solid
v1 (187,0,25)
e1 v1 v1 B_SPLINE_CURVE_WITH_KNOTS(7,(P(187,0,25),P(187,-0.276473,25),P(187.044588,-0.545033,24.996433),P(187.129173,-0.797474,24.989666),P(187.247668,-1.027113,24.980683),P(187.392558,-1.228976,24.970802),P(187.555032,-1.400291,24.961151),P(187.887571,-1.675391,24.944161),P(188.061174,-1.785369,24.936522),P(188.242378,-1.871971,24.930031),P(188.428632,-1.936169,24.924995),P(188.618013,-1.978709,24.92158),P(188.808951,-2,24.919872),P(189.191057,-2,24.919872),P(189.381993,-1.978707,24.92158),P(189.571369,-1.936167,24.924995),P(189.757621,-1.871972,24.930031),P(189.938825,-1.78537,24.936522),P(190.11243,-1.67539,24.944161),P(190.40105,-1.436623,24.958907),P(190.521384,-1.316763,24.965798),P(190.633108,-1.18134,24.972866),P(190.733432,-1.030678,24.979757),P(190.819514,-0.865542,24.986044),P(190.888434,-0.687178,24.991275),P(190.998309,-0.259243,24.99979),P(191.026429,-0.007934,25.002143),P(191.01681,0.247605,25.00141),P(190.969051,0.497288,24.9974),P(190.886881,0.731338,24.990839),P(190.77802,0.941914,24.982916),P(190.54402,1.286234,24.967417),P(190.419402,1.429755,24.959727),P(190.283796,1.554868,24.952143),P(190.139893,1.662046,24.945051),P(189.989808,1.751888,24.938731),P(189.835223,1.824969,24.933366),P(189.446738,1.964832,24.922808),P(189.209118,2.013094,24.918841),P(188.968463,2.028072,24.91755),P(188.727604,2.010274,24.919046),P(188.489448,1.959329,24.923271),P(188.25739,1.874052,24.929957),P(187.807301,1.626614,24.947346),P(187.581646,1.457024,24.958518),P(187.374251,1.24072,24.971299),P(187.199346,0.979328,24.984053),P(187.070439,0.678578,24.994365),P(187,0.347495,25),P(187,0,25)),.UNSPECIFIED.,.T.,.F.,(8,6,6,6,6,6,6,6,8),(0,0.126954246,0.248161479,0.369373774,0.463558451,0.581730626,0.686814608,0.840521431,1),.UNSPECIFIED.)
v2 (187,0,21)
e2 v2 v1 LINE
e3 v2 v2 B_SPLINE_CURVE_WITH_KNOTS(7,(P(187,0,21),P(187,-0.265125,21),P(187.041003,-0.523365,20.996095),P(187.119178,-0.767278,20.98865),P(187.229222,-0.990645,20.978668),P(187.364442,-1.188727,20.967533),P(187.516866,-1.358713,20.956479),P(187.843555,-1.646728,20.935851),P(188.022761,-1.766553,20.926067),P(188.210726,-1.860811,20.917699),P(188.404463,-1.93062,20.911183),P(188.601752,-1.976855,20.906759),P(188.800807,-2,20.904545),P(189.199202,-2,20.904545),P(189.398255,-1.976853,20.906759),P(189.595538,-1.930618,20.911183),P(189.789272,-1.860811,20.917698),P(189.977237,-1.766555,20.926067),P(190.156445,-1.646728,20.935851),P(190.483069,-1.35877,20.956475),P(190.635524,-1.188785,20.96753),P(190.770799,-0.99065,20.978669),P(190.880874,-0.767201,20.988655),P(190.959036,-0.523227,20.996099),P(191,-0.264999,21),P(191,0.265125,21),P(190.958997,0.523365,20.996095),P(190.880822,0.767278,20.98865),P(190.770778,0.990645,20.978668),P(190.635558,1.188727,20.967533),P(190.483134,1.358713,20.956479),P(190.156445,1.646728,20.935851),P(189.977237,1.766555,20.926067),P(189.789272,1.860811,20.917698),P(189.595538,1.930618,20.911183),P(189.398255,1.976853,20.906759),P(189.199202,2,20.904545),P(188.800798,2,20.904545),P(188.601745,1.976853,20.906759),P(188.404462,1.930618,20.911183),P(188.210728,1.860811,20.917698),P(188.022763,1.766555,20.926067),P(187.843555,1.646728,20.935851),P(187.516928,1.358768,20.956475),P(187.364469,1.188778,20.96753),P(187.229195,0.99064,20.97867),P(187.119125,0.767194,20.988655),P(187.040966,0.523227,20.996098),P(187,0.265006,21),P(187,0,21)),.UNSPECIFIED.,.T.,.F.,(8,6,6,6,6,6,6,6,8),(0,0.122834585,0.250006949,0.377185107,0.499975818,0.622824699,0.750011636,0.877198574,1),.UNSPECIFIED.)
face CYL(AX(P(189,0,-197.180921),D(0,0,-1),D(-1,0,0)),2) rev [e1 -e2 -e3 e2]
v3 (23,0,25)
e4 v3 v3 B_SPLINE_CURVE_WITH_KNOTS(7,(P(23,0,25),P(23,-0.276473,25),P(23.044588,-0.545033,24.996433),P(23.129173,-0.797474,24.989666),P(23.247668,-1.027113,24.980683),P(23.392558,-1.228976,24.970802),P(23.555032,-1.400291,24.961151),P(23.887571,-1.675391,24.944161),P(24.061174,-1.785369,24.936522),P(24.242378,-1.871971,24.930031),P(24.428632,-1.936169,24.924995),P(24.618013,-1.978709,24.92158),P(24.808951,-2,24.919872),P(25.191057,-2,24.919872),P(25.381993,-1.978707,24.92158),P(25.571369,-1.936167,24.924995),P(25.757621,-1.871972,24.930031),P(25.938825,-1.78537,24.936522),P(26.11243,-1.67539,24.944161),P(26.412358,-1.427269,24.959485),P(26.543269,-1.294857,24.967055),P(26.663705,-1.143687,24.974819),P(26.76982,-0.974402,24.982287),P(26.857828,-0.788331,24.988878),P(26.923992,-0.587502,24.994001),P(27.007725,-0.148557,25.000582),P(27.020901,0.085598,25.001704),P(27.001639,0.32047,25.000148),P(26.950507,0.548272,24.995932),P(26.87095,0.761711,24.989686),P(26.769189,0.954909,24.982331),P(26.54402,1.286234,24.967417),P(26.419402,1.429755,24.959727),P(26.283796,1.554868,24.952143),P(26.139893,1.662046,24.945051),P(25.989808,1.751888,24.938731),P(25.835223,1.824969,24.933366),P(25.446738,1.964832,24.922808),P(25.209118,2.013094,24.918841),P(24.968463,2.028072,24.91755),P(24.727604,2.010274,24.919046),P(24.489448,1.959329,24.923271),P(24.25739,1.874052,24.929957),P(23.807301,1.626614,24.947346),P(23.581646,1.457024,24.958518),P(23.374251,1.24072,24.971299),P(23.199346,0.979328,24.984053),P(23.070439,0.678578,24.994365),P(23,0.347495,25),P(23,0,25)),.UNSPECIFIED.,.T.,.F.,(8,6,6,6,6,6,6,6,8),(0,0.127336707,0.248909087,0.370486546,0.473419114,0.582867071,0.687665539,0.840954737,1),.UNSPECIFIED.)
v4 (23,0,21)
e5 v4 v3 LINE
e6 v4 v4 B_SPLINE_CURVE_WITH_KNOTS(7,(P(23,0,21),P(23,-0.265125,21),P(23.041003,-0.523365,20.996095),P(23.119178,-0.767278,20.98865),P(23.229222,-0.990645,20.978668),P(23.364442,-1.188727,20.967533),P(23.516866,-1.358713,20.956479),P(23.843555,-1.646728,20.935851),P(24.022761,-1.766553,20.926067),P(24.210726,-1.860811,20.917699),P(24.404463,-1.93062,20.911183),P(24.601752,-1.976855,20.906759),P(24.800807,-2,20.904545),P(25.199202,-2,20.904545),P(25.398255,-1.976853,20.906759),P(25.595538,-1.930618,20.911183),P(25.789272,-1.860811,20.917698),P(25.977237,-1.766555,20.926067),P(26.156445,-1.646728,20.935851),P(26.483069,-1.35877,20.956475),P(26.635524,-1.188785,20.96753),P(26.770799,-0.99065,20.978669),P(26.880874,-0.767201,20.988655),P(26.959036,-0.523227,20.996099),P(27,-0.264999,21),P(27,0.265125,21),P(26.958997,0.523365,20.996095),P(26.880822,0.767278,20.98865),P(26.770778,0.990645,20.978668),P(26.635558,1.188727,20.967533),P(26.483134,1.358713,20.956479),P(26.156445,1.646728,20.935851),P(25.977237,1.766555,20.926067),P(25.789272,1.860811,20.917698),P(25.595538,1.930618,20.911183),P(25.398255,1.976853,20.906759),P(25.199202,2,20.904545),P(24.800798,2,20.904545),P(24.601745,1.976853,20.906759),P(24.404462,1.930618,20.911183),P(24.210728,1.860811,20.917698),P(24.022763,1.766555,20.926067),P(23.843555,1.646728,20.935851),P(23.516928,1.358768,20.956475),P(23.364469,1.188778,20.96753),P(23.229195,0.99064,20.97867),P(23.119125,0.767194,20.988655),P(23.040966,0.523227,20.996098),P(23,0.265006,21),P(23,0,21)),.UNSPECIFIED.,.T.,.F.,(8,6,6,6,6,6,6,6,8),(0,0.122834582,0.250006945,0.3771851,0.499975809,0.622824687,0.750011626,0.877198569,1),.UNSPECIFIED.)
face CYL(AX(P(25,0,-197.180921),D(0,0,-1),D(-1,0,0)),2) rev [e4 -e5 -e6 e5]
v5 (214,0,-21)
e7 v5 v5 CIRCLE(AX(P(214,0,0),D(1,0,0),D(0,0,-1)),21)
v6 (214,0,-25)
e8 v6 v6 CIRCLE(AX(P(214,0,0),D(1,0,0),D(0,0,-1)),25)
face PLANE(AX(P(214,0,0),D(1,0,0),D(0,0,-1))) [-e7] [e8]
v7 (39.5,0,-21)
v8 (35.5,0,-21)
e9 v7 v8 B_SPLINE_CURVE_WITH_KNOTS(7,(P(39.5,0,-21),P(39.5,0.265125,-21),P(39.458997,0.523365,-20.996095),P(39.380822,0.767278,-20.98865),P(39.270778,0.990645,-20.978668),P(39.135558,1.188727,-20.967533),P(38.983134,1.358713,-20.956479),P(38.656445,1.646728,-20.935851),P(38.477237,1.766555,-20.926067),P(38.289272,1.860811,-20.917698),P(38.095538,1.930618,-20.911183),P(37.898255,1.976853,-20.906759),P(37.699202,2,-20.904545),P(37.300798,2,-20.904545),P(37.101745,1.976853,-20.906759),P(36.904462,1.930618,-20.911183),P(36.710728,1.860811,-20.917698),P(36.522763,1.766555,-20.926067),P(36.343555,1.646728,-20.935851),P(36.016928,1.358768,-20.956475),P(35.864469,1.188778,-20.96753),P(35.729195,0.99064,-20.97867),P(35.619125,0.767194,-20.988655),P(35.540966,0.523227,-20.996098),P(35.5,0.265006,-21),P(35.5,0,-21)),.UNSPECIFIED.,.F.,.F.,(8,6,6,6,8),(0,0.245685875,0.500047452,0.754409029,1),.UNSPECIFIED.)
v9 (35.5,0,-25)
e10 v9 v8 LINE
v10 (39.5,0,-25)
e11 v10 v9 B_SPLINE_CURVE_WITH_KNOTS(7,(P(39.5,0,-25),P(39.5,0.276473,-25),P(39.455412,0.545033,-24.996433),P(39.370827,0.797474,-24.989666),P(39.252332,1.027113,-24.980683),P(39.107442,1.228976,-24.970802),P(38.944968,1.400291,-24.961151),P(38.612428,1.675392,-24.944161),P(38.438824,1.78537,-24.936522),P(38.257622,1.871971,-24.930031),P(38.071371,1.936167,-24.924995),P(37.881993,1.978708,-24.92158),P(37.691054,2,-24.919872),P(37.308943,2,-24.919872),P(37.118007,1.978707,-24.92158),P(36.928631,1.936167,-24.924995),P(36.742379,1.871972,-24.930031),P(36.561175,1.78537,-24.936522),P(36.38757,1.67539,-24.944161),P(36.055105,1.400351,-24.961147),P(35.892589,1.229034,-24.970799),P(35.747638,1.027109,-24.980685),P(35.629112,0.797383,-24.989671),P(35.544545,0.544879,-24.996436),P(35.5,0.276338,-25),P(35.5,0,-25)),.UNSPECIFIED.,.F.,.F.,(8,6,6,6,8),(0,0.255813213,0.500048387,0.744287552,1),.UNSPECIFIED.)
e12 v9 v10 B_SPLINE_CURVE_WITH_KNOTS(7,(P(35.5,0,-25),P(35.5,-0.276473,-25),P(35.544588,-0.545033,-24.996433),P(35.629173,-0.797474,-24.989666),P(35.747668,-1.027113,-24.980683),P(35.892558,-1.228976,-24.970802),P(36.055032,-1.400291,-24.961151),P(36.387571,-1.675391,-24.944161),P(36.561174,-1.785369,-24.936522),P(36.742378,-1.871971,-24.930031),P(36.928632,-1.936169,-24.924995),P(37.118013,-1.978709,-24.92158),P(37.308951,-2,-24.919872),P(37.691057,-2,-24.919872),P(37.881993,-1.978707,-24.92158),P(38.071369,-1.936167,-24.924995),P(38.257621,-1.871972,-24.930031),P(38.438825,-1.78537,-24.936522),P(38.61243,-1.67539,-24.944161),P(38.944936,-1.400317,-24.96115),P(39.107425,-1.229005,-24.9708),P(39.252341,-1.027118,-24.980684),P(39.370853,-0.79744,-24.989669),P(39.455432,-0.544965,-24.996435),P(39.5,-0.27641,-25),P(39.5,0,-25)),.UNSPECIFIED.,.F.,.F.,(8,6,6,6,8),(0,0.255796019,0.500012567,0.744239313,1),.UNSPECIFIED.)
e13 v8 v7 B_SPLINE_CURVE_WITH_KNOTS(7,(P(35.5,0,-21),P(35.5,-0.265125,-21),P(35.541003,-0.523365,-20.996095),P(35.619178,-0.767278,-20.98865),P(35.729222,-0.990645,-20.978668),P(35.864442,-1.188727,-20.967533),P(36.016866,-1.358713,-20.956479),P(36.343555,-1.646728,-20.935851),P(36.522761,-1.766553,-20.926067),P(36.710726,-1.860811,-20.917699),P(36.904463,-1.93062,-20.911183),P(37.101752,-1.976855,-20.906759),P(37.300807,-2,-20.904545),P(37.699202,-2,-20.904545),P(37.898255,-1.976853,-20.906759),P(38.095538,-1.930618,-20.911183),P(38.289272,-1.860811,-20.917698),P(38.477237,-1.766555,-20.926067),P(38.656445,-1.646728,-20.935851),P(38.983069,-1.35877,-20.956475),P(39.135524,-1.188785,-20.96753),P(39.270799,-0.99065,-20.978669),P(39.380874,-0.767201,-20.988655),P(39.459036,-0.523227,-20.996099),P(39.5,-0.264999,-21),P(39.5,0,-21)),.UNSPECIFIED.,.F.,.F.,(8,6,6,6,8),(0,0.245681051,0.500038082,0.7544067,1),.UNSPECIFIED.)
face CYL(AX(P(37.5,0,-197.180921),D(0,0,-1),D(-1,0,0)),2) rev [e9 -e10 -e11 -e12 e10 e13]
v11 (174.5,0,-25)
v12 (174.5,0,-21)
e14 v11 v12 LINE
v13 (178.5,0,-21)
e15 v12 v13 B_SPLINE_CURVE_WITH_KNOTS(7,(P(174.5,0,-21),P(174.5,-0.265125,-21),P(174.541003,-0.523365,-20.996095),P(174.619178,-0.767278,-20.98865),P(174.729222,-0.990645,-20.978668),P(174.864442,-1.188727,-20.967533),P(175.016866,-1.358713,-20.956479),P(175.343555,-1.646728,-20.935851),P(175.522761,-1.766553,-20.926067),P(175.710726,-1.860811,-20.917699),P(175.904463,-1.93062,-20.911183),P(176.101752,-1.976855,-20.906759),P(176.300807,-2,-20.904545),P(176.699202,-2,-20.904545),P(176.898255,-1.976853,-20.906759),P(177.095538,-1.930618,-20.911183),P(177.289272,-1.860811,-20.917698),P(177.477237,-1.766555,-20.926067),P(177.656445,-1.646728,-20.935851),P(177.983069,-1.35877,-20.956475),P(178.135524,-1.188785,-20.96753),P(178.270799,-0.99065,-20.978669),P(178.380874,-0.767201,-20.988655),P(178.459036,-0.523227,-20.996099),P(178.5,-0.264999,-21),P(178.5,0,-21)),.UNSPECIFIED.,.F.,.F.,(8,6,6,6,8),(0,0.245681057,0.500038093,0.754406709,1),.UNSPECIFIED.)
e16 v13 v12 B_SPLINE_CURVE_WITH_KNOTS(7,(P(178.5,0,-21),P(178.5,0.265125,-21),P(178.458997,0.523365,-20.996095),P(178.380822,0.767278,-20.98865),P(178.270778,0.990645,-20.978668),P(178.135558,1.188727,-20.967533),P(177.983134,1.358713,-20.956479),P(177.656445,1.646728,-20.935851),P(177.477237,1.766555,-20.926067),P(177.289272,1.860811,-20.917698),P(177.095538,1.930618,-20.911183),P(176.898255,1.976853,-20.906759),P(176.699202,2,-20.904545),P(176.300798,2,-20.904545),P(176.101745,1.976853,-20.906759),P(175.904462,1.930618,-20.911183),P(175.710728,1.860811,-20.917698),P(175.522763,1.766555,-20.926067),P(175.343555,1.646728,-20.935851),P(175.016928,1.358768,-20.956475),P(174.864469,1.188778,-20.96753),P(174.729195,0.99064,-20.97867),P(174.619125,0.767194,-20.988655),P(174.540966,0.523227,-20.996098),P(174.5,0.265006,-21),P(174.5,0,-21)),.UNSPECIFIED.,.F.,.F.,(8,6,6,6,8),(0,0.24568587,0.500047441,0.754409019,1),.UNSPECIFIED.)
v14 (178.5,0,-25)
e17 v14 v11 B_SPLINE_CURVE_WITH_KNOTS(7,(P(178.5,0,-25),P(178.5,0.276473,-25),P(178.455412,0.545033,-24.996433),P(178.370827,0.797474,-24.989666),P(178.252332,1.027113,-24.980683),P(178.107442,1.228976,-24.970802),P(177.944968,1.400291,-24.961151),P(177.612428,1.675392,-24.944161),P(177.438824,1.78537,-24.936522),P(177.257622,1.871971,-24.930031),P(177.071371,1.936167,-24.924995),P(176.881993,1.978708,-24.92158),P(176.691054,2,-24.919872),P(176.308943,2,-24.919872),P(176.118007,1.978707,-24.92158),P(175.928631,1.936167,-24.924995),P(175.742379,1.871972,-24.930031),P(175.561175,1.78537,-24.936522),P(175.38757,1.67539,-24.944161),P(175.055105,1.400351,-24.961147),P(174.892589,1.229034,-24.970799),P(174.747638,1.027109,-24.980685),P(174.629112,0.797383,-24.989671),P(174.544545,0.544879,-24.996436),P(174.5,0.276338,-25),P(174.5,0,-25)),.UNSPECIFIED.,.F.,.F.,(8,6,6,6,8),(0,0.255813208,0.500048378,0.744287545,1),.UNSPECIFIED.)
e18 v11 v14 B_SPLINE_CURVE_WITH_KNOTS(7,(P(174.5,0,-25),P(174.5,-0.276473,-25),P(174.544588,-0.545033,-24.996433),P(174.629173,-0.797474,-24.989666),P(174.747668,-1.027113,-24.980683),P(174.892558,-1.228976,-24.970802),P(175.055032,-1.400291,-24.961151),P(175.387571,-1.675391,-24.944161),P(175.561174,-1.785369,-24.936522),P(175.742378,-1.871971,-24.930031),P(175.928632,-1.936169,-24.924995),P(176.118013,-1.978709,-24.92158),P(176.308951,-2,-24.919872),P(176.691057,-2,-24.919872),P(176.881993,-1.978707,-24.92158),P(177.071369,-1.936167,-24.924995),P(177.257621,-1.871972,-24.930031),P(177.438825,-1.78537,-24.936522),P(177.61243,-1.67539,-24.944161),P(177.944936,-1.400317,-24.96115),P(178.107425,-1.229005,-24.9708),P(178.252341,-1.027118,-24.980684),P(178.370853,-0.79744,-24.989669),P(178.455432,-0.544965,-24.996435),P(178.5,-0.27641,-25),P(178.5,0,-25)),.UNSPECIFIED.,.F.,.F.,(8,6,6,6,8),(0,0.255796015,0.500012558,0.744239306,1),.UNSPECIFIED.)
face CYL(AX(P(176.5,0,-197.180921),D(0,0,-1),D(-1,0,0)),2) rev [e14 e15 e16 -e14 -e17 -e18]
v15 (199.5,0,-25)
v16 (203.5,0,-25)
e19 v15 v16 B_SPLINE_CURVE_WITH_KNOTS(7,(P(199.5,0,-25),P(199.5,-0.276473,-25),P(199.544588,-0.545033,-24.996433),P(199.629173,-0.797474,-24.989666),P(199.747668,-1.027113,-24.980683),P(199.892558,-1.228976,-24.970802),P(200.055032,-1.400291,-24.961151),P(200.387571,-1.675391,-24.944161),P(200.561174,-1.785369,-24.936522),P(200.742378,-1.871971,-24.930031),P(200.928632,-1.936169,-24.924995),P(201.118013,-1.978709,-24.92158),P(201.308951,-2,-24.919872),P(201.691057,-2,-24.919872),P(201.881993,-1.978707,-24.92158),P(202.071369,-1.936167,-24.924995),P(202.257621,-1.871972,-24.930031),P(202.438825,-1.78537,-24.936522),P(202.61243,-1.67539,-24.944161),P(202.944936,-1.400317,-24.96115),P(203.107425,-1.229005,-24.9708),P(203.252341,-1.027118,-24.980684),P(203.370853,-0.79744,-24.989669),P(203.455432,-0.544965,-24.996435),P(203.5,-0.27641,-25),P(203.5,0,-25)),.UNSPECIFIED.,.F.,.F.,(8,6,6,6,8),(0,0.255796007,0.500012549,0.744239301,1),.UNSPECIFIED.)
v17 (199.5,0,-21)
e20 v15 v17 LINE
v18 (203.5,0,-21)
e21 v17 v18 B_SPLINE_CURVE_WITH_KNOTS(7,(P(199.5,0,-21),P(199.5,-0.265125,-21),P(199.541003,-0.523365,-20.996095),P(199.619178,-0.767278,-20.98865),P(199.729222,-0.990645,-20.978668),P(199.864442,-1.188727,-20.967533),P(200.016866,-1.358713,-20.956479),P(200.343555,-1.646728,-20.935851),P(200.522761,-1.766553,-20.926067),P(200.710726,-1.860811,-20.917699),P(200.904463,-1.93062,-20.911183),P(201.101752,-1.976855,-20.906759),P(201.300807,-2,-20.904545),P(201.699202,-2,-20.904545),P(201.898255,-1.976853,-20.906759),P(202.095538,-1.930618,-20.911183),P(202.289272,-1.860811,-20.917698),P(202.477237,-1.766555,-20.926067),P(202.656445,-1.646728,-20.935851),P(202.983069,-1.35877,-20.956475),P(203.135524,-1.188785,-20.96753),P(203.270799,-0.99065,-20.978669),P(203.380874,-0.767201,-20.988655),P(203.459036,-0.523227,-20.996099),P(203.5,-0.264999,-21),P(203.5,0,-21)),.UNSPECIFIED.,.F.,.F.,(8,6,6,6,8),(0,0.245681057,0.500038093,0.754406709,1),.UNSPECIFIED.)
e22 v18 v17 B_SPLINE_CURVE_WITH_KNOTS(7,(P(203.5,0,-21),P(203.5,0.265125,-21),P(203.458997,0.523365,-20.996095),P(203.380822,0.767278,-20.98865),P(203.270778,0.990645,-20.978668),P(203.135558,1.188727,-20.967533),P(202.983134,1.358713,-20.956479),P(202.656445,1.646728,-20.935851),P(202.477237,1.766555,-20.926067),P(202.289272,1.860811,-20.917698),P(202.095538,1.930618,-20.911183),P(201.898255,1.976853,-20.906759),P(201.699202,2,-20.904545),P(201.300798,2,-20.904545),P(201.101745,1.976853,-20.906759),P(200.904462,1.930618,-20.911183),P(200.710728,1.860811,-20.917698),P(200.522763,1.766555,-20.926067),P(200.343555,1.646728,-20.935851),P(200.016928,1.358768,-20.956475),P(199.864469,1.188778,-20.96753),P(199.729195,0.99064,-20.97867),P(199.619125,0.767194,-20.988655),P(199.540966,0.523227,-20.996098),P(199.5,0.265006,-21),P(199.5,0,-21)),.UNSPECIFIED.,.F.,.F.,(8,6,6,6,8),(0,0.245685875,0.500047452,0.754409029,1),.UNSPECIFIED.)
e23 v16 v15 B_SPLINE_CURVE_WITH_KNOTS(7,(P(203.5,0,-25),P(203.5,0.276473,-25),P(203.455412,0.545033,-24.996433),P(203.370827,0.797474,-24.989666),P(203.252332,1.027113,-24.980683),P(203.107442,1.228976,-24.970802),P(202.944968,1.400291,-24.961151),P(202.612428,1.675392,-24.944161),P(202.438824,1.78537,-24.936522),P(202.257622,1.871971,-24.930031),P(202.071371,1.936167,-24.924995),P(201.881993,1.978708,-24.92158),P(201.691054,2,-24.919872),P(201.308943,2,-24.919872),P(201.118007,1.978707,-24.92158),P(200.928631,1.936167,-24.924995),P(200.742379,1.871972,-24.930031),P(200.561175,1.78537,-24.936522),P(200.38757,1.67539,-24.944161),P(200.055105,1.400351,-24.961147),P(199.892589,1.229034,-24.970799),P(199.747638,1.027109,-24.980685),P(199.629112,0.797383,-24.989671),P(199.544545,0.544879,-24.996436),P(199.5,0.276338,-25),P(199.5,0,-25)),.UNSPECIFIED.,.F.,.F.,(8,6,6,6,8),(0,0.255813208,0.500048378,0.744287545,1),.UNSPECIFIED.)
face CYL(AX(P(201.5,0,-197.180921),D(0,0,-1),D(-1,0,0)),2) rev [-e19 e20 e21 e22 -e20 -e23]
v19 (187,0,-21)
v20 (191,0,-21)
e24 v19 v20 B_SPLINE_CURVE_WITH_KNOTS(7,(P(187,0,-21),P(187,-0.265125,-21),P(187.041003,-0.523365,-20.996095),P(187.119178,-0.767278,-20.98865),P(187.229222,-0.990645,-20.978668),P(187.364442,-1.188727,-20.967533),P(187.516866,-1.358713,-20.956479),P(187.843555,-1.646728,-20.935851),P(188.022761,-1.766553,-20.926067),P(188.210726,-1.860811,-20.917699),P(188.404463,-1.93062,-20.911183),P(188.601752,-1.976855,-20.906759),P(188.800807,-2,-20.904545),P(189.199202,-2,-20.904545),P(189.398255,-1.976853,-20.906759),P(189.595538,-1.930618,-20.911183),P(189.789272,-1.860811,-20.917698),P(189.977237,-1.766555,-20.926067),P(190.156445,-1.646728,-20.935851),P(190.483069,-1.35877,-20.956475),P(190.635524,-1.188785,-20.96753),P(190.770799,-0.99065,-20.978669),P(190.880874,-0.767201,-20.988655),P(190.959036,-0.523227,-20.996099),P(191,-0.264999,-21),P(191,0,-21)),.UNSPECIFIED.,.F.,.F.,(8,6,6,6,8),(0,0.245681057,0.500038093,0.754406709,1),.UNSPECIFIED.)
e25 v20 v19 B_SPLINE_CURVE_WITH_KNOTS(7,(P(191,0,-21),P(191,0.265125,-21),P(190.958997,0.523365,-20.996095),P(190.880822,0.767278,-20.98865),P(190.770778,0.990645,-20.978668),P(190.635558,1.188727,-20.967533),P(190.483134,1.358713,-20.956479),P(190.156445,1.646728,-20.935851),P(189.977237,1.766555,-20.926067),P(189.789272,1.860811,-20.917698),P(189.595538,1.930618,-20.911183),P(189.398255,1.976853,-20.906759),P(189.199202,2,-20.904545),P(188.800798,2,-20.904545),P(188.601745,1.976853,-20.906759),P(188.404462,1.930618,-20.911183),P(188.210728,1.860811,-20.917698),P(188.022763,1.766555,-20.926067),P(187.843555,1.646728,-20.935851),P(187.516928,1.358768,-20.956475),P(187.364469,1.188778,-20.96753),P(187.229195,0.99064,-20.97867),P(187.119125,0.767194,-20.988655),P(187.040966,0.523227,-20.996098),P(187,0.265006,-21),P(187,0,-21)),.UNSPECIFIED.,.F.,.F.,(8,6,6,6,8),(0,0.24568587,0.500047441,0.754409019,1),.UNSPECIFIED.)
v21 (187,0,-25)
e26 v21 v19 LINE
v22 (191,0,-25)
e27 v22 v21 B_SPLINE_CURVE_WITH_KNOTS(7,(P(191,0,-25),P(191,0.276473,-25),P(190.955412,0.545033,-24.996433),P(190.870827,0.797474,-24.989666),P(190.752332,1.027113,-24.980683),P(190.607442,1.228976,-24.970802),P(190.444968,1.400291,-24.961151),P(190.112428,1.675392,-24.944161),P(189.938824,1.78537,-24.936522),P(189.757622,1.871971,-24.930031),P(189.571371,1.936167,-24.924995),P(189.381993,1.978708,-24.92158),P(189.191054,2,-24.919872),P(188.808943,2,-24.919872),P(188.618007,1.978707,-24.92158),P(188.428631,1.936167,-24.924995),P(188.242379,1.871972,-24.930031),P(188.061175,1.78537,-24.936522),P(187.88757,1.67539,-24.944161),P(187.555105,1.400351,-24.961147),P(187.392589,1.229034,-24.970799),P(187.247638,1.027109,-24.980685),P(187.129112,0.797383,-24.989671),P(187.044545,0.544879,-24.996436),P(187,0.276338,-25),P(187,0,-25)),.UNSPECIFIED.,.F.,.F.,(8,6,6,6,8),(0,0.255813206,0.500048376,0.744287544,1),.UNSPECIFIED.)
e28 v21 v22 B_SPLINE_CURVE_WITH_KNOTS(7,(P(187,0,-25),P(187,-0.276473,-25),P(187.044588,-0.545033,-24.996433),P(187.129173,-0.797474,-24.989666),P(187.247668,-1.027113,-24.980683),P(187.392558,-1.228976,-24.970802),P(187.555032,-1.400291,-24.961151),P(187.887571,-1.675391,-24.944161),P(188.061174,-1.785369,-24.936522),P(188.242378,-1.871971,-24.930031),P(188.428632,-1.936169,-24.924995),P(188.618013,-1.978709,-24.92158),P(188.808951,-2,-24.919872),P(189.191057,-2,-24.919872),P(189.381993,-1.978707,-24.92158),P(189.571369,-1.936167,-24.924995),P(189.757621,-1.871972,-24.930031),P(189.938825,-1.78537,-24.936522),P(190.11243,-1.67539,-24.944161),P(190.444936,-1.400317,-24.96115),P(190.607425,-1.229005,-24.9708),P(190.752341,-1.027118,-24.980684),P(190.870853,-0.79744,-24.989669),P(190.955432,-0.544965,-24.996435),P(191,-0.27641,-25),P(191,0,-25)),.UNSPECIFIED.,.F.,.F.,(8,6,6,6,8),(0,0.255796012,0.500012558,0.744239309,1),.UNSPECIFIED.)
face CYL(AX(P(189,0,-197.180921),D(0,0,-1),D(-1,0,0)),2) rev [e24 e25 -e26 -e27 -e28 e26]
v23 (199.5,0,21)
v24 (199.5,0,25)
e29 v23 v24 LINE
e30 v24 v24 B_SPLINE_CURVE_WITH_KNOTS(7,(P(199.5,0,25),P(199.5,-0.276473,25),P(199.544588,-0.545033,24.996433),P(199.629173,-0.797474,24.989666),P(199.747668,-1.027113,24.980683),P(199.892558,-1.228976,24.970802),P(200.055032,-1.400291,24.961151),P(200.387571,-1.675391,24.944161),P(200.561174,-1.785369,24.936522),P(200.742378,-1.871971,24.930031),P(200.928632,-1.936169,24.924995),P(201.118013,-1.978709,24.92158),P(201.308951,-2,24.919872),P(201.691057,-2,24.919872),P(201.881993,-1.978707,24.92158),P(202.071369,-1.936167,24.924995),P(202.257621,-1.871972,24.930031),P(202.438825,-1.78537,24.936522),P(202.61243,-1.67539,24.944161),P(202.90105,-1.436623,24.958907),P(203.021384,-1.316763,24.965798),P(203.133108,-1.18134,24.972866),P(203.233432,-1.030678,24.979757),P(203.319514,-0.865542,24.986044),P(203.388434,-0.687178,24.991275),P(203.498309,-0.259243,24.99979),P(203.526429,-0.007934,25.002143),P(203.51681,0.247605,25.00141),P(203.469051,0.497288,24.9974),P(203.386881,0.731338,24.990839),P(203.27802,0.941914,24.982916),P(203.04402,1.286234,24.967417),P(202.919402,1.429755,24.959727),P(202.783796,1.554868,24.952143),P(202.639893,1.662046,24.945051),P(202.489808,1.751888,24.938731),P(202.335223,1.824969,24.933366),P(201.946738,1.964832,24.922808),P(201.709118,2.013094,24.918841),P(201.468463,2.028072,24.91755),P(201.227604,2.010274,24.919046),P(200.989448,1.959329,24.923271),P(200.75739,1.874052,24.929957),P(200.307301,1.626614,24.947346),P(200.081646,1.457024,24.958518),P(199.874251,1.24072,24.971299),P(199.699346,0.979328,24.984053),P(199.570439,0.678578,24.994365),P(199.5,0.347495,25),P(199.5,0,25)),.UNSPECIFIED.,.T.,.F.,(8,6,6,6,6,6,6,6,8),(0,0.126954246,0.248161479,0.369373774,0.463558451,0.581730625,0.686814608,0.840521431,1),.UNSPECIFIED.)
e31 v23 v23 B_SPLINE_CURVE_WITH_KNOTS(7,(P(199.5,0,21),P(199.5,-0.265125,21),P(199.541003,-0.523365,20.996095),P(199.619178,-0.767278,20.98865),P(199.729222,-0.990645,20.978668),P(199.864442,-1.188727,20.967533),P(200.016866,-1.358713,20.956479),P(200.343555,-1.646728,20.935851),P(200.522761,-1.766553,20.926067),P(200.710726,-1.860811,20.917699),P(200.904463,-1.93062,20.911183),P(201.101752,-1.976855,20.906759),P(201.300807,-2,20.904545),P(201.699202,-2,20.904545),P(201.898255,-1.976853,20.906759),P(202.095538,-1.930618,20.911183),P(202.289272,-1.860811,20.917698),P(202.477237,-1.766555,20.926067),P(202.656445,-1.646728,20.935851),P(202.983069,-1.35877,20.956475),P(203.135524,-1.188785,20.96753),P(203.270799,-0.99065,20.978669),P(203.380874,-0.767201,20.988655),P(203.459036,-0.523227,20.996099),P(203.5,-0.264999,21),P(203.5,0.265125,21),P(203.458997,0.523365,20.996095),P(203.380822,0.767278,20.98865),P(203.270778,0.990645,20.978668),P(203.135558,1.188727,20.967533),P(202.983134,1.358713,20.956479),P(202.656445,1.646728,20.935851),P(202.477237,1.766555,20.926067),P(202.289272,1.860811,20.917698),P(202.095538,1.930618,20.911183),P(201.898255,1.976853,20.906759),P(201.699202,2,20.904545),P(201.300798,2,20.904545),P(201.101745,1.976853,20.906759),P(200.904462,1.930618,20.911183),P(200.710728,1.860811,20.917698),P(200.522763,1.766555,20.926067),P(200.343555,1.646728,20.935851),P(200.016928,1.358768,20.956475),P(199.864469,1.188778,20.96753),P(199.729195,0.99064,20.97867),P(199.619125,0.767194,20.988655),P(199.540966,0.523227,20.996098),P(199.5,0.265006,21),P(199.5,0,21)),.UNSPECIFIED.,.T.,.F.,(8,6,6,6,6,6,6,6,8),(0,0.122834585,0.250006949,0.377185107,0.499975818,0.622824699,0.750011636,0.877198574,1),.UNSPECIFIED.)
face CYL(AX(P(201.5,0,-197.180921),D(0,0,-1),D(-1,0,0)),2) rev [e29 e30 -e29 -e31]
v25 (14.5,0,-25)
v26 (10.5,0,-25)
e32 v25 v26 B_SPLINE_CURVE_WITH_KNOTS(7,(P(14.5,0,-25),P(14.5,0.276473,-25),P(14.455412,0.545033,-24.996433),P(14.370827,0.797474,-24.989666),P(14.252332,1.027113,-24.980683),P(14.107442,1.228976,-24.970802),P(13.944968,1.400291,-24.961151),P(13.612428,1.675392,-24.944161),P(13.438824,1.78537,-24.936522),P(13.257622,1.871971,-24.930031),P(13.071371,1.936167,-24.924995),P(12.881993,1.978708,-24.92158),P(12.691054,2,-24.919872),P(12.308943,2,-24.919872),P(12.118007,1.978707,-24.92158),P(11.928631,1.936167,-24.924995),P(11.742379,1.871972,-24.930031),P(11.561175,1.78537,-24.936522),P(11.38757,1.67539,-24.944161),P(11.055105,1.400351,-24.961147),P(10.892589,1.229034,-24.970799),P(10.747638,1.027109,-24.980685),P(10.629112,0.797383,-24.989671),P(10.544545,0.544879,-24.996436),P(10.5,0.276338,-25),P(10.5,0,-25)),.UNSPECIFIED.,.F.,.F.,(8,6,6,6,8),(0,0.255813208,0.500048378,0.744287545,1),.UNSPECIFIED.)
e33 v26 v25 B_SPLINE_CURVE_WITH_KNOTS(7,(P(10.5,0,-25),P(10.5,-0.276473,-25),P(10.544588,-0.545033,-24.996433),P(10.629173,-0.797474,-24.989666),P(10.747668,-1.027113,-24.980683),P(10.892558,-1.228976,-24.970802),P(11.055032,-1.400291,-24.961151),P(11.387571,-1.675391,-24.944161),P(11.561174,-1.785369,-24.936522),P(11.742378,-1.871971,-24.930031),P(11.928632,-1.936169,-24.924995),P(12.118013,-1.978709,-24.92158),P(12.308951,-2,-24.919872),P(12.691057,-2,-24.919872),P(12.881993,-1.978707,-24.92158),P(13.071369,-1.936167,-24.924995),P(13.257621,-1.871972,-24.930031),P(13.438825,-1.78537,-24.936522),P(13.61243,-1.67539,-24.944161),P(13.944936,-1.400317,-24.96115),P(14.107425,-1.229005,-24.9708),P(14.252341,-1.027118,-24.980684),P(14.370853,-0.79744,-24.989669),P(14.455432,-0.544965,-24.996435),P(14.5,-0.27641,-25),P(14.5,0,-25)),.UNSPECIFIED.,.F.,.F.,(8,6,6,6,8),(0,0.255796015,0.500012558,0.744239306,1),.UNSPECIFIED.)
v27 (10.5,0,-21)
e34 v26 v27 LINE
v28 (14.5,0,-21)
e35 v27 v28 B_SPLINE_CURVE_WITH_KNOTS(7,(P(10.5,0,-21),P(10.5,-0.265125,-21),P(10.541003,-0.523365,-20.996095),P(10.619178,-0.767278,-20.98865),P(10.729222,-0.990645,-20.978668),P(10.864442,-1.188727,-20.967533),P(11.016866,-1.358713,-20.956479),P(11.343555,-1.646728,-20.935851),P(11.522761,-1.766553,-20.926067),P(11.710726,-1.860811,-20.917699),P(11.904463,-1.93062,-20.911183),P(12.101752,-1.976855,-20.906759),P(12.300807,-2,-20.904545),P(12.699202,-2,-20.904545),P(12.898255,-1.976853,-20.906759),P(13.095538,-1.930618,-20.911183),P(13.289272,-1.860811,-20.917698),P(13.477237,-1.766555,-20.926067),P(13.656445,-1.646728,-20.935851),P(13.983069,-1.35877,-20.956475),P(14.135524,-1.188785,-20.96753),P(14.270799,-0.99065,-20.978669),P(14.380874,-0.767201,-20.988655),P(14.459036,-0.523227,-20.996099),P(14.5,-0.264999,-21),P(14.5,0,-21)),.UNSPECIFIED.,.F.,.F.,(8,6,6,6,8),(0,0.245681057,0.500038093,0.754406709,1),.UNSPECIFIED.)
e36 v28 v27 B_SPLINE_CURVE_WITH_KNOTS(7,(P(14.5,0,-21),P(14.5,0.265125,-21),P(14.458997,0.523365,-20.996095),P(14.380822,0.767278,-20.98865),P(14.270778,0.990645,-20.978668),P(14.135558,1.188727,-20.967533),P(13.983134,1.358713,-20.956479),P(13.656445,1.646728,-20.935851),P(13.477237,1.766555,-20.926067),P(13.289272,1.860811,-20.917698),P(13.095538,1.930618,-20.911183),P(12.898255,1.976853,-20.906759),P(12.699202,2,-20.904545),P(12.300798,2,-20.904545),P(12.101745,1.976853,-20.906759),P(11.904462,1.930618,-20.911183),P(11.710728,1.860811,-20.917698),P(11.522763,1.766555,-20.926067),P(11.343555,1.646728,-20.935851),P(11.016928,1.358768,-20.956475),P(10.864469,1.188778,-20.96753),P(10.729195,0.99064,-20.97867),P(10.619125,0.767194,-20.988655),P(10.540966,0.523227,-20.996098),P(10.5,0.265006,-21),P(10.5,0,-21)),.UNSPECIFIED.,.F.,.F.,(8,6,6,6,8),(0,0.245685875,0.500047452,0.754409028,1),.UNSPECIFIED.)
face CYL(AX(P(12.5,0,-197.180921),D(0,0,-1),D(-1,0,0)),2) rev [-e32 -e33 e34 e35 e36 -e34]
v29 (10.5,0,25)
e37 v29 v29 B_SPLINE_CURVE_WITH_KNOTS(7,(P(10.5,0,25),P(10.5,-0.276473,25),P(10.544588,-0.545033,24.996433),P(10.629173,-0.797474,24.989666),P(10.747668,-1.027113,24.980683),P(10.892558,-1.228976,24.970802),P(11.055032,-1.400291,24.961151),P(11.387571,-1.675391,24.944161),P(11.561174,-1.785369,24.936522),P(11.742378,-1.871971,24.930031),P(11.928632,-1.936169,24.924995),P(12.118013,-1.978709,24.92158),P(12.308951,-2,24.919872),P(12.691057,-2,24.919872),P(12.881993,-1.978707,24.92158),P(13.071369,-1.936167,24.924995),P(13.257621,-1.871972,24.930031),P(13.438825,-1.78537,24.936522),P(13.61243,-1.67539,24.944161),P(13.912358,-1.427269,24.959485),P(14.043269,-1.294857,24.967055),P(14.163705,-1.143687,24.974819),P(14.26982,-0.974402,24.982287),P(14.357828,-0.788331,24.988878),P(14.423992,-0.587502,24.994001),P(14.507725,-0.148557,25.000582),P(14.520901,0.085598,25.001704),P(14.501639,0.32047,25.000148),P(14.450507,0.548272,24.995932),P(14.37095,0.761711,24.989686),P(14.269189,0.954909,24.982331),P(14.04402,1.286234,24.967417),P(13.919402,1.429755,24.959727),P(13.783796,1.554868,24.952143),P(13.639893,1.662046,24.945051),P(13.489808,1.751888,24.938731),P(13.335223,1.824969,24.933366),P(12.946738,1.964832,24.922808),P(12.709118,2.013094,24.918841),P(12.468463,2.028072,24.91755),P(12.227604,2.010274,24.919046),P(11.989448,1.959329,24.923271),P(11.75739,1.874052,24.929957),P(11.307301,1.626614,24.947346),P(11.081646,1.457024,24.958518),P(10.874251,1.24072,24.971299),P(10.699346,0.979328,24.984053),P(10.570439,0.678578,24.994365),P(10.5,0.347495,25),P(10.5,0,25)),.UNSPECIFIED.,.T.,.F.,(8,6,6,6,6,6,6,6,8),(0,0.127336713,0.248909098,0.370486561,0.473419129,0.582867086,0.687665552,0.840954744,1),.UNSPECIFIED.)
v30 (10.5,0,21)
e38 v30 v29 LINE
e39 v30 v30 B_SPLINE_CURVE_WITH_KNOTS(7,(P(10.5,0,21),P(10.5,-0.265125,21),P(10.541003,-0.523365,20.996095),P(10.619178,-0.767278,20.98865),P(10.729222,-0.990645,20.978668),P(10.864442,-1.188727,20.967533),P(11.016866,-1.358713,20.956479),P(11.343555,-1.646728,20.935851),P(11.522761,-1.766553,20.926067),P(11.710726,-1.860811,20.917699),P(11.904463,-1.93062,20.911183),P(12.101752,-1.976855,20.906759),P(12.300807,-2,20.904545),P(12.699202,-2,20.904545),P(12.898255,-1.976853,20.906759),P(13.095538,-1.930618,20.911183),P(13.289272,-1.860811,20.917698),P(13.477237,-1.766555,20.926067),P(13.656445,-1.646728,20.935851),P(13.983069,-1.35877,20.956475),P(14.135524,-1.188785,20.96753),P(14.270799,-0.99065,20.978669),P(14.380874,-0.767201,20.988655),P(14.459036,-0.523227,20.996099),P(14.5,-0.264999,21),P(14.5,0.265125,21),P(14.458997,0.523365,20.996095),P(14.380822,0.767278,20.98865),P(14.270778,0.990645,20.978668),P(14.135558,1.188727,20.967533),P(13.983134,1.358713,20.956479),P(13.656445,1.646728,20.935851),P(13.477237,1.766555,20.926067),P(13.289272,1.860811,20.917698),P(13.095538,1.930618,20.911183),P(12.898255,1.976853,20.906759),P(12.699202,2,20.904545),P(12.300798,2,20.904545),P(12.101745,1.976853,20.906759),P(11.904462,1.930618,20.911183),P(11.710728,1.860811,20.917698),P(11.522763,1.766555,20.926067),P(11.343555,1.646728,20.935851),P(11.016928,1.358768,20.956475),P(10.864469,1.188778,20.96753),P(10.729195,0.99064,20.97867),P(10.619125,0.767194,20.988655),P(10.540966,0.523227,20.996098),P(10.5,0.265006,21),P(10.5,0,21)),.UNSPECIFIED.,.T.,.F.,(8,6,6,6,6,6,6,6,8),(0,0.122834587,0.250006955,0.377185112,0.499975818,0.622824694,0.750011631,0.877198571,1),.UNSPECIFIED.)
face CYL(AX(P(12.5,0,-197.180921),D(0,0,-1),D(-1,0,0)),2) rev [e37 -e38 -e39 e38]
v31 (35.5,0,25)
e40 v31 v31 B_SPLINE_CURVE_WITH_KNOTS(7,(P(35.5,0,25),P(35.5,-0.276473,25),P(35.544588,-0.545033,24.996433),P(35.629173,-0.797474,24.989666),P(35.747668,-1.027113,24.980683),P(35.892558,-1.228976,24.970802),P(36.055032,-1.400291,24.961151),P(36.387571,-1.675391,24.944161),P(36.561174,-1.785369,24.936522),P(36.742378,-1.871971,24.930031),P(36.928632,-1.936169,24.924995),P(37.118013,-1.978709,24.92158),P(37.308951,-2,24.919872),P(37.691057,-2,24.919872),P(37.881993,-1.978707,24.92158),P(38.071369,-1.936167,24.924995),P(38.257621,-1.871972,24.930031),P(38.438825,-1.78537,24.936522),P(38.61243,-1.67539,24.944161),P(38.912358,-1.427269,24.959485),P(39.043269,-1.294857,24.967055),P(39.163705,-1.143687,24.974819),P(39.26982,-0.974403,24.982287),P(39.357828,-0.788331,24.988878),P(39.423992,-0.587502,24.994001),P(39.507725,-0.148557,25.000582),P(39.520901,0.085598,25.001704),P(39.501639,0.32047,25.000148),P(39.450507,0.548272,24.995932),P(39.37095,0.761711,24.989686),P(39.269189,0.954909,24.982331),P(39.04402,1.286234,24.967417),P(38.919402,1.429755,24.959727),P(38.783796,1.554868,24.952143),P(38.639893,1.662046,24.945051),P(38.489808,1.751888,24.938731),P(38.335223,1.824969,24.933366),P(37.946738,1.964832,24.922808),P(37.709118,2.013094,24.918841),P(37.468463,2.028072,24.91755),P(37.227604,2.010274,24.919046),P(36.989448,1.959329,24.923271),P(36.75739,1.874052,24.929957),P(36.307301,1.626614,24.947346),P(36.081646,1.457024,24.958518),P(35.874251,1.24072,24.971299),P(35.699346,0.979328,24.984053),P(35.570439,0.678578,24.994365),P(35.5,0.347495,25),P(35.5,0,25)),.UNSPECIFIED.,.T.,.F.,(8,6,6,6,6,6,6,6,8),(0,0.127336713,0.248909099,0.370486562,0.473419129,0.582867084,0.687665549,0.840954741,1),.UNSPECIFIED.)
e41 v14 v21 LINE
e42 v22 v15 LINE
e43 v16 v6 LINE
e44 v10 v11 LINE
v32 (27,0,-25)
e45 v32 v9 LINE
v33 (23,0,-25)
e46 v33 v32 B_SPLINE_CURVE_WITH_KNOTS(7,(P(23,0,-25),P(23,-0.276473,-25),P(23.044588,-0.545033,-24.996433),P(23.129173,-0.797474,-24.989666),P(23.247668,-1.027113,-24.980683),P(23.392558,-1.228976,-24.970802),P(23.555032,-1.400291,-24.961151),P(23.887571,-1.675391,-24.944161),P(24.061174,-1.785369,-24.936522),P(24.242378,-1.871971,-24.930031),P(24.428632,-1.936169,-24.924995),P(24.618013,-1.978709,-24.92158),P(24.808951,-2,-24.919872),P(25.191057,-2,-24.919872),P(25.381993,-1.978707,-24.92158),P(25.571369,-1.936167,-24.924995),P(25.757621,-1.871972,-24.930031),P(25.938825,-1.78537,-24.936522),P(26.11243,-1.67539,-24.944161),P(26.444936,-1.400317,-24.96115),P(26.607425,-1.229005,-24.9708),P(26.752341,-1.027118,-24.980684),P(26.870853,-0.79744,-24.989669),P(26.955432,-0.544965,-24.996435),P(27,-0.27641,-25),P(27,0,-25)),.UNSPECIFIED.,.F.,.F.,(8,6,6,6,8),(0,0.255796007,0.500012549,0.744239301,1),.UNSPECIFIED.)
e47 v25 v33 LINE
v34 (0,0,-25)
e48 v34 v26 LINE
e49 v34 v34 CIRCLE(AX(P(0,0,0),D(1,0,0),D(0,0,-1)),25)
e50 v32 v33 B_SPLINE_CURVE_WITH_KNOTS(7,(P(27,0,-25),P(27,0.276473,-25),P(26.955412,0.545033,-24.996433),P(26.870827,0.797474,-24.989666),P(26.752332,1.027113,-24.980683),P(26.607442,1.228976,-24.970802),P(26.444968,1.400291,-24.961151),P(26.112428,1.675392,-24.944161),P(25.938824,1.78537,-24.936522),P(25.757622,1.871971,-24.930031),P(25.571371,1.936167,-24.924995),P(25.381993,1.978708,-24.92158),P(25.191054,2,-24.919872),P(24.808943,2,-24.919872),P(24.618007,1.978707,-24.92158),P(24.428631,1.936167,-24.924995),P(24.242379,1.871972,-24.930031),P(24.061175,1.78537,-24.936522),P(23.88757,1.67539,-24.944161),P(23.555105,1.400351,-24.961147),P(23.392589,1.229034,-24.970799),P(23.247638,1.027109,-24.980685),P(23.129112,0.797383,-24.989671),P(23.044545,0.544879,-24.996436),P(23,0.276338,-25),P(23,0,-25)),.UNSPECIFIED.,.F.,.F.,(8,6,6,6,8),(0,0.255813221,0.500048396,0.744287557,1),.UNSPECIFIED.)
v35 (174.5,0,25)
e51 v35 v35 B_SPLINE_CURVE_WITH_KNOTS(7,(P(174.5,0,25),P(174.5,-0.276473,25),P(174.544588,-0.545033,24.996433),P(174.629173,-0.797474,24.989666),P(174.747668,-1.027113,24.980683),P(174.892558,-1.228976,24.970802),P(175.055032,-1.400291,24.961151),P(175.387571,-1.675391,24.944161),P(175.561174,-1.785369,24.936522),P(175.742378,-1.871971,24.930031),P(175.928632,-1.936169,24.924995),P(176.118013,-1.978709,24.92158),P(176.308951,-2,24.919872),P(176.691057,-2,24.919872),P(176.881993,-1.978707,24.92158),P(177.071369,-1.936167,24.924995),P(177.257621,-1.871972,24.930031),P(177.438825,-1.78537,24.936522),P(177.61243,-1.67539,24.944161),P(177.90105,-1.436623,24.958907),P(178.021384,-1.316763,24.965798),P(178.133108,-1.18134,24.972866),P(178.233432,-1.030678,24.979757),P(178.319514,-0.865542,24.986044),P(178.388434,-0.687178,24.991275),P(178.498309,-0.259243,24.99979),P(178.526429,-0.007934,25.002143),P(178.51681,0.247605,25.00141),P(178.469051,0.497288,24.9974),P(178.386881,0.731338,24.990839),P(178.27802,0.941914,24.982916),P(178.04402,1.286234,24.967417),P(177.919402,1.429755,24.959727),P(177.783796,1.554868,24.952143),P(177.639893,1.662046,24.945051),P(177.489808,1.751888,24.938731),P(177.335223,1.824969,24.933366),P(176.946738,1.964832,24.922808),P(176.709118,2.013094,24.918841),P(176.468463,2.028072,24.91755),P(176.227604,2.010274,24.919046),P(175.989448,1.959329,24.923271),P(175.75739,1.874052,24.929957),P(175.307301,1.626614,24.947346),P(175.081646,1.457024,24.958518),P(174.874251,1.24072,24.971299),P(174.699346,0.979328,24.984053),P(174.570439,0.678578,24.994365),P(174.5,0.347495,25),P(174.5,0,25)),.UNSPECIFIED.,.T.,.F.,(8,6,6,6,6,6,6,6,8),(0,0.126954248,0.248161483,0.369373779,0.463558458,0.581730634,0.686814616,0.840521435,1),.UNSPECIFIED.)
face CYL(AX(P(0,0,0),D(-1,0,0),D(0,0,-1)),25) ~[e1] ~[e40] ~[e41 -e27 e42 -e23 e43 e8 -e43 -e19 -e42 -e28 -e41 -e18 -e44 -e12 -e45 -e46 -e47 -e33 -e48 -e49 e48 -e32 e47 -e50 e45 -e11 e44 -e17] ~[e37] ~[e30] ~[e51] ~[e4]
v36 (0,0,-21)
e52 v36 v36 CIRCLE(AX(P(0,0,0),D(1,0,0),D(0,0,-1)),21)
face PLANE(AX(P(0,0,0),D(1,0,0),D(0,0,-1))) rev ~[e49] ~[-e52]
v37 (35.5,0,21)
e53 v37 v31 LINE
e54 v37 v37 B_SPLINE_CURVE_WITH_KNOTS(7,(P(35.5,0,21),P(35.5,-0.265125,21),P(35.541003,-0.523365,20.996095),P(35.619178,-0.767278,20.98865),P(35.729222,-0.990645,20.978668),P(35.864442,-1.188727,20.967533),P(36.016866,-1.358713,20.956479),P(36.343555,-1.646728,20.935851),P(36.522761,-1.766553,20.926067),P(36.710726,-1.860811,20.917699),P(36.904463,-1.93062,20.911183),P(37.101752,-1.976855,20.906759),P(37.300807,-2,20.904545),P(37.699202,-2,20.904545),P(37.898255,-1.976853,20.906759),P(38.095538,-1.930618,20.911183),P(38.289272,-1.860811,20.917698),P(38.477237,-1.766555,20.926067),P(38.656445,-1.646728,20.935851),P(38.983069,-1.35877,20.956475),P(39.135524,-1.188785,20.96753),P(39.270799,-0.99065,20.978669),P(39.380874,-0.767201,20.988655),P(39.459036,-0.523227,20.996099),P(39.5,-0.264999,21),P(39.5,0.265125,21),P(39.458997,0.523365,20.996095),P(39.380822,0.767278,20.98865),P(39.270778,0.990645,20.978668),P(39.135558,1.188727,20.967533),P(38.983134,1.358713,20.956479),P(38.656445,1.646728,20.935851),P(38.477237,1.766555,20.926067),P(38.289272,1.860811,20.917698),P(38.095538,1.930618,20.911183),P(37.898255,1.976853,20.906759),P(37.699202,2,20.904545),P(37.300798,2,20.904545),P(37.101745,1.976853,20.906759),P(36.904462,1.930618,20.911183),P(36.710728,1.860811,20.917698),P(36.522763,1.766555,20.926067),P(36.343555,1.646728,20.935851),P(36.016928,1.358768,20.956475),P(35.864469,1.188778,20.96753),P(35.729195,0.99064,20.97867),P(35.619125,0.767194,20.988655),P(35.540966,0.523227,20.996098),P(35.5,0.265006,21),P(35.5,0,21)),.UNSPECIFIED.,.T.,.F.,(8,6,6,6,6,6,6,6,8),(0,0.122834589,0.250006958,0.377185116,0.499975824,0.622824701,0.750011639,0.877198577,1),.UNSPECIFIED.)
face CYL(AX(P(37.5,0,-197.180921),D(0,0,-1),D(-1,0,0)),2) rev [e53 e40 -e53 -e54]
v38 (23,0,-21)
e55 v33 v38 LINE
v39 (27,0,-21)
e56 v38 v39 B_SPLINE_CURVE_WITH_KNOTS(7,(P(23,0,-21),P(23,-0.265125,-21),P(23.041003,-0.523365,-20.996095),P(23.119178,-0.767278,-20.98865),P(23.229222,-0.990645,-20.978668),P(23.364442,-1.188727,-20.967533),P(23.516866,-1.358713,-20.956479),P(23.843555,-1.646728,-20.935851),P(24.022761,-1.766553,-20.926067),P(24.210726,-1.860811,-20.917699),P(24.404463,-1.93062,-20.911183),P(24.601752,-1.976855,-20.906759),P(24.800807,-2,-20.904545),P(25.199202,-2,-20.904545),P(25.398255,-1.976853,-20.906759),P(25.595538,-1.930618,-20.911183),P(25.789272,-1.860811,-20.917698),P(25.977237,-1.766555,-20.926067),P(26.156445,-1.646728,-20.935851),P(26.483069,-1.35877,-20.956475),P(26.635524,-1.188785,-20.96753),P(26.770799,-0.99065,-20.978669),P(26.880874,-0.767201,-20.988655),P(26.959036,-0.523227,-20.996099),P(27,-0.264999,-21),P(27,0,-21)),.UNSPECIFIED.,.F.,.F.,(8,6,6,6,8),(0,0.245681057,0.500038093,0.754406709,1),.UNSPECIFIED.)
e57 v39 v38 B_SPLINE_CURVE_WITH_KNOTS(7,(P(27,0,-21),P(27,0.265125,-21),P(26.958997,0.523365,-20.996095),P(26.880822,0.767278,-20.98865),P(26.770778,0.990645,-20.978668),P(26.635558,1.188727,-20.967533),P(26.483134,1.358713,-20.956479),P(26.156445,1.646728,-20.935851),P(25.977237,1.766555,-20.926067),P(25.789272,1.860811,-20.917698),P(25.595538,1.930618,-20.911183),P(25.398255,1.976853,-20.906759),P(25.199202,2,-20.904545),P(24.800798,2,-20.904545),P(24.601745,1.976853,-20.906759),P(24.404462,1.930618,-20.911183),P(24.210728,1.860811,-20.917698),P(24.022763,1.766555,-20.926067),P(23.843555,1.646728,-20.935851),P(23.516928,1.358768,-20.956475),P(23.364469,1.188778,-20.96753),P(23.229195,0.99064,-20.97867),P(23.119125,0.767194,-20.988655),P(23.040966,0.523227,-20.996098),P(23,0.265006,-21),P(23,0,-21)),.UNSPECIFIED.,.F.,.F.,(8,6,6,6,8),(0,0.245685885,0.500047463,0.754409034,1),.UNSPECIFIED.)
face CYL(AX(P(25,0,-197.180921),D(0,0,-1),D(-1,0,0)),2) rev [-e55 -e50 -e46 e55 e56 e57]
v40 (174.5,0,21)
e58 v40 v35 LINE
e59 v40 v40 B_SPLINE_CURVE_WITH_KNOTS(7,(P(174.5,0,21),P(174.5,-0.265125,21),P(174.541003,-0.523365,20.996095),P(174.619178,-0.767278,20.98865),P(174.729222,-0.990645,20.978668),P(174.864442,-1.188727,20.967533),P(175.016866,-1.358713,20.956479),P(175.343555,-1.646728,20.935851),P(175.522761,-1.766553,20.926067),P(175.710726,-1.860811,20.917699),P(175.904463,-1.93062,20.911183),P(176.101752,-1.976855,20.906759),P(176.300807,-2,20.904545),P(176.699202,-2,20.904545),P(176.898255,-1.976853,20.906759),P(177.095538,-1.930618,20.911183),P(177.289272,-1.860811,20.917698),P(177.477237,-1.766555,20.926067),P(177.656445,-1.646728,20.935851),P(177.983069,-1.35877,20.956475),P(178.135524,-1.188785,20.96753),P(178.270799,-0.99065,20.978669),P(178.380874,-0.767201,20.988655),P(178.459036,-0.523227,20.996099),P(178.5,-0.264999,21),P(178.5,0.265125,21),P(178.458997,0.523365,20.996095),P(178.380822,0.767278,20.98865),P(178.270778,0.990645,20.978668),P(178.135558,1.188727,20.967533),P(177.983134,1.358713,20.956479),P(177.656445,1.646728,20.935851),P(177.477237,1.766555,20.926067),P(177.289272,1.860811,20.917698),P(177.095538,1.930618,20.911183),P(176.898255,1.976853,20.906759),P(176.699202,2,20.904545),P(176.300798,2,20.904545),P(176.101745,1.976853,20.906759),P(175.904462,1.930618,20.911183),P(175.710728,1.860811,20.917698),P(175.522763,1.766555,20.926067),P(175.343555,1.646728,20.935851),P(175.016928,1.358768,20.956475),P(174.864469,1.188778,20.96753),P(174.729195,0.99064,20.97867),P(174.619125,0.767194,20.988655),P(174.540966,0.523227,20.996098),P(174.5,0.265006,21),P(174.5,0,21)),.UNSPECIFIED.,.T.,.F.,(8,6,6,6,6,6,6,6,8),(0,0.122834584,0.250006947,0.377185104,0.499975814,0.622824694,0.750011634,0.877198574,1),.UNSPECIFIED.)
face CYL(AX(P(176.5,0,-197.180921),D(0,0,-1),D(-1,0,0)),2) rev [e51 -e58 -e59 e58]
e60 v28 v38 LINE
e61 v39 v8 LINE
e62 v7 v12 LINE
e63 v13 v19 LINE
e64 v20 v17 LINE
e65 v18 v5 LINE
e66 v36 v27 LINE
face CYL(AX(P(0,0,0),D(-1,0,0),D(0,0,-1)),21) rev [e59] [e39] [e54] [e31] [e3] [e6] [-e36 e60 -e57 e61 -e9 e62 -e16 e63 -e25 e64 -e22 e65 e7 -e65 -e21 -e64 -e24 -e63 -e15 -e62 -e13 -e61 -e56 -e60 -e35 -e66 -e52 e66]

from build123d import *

# Parameters (mm, degrees)
SKETCH_2_R               = 25
SKETCH_2_R_2             = 21
EXTRUDE_2_DEPTH          = 214
CUT_EXTRUDE_2_DEPTH      = 10
CUT_EXTRUDE_2_DEPTH_BACK = 222.18092142
SKETCH_4_R               = 2


with BuildPart() as part:
    # Эскиз2 → Бобышка-Вытянуть2 (new body)
    with BuildSketch(Plane(origin=(0, 0, 0), x_dir=(0, 0, -1), z_dir=(1, 0, 0))):
        Circle(SKETCH_2_R)
        Circle(SKETCH_2_R_2, mode=Mode.SUBTRACT)
    extrude(amount=EXTRUDE_2_DEPTH)

    # Эскиз4 → Вырез-Вытянуть2 (cut, two sides: drawn at the far end of the back side and taken through both)
    with BuildSketch(Plane.XY.offset(25).offset(-CUT_EXTRUDE_2_DEPTH_BACK)):
        with Locations((12.5, 0)):
            Circle(SKETCH_4_R)
        with Locations((201.5, 0)):
            Circle(SKETCH_4_R)
        with Locations((25, 0)):
            Circle(SKETCH_4_R)
        with Locations((37.5, 0)):
            Circle(SKETCH_4_R)
        with Locations((189, 0)):
            Circle(SKETCH_4_R)
        with Locations((176.5, 0)):
            Circle(SKETCH_4_R)
    extrude(amount=CUT_EXTRUDE_2_DEPTH + CUT_EXTRUDE_2_DEPTH_BACK, mode=Mode.SUBTRACT)


solid = part.part
